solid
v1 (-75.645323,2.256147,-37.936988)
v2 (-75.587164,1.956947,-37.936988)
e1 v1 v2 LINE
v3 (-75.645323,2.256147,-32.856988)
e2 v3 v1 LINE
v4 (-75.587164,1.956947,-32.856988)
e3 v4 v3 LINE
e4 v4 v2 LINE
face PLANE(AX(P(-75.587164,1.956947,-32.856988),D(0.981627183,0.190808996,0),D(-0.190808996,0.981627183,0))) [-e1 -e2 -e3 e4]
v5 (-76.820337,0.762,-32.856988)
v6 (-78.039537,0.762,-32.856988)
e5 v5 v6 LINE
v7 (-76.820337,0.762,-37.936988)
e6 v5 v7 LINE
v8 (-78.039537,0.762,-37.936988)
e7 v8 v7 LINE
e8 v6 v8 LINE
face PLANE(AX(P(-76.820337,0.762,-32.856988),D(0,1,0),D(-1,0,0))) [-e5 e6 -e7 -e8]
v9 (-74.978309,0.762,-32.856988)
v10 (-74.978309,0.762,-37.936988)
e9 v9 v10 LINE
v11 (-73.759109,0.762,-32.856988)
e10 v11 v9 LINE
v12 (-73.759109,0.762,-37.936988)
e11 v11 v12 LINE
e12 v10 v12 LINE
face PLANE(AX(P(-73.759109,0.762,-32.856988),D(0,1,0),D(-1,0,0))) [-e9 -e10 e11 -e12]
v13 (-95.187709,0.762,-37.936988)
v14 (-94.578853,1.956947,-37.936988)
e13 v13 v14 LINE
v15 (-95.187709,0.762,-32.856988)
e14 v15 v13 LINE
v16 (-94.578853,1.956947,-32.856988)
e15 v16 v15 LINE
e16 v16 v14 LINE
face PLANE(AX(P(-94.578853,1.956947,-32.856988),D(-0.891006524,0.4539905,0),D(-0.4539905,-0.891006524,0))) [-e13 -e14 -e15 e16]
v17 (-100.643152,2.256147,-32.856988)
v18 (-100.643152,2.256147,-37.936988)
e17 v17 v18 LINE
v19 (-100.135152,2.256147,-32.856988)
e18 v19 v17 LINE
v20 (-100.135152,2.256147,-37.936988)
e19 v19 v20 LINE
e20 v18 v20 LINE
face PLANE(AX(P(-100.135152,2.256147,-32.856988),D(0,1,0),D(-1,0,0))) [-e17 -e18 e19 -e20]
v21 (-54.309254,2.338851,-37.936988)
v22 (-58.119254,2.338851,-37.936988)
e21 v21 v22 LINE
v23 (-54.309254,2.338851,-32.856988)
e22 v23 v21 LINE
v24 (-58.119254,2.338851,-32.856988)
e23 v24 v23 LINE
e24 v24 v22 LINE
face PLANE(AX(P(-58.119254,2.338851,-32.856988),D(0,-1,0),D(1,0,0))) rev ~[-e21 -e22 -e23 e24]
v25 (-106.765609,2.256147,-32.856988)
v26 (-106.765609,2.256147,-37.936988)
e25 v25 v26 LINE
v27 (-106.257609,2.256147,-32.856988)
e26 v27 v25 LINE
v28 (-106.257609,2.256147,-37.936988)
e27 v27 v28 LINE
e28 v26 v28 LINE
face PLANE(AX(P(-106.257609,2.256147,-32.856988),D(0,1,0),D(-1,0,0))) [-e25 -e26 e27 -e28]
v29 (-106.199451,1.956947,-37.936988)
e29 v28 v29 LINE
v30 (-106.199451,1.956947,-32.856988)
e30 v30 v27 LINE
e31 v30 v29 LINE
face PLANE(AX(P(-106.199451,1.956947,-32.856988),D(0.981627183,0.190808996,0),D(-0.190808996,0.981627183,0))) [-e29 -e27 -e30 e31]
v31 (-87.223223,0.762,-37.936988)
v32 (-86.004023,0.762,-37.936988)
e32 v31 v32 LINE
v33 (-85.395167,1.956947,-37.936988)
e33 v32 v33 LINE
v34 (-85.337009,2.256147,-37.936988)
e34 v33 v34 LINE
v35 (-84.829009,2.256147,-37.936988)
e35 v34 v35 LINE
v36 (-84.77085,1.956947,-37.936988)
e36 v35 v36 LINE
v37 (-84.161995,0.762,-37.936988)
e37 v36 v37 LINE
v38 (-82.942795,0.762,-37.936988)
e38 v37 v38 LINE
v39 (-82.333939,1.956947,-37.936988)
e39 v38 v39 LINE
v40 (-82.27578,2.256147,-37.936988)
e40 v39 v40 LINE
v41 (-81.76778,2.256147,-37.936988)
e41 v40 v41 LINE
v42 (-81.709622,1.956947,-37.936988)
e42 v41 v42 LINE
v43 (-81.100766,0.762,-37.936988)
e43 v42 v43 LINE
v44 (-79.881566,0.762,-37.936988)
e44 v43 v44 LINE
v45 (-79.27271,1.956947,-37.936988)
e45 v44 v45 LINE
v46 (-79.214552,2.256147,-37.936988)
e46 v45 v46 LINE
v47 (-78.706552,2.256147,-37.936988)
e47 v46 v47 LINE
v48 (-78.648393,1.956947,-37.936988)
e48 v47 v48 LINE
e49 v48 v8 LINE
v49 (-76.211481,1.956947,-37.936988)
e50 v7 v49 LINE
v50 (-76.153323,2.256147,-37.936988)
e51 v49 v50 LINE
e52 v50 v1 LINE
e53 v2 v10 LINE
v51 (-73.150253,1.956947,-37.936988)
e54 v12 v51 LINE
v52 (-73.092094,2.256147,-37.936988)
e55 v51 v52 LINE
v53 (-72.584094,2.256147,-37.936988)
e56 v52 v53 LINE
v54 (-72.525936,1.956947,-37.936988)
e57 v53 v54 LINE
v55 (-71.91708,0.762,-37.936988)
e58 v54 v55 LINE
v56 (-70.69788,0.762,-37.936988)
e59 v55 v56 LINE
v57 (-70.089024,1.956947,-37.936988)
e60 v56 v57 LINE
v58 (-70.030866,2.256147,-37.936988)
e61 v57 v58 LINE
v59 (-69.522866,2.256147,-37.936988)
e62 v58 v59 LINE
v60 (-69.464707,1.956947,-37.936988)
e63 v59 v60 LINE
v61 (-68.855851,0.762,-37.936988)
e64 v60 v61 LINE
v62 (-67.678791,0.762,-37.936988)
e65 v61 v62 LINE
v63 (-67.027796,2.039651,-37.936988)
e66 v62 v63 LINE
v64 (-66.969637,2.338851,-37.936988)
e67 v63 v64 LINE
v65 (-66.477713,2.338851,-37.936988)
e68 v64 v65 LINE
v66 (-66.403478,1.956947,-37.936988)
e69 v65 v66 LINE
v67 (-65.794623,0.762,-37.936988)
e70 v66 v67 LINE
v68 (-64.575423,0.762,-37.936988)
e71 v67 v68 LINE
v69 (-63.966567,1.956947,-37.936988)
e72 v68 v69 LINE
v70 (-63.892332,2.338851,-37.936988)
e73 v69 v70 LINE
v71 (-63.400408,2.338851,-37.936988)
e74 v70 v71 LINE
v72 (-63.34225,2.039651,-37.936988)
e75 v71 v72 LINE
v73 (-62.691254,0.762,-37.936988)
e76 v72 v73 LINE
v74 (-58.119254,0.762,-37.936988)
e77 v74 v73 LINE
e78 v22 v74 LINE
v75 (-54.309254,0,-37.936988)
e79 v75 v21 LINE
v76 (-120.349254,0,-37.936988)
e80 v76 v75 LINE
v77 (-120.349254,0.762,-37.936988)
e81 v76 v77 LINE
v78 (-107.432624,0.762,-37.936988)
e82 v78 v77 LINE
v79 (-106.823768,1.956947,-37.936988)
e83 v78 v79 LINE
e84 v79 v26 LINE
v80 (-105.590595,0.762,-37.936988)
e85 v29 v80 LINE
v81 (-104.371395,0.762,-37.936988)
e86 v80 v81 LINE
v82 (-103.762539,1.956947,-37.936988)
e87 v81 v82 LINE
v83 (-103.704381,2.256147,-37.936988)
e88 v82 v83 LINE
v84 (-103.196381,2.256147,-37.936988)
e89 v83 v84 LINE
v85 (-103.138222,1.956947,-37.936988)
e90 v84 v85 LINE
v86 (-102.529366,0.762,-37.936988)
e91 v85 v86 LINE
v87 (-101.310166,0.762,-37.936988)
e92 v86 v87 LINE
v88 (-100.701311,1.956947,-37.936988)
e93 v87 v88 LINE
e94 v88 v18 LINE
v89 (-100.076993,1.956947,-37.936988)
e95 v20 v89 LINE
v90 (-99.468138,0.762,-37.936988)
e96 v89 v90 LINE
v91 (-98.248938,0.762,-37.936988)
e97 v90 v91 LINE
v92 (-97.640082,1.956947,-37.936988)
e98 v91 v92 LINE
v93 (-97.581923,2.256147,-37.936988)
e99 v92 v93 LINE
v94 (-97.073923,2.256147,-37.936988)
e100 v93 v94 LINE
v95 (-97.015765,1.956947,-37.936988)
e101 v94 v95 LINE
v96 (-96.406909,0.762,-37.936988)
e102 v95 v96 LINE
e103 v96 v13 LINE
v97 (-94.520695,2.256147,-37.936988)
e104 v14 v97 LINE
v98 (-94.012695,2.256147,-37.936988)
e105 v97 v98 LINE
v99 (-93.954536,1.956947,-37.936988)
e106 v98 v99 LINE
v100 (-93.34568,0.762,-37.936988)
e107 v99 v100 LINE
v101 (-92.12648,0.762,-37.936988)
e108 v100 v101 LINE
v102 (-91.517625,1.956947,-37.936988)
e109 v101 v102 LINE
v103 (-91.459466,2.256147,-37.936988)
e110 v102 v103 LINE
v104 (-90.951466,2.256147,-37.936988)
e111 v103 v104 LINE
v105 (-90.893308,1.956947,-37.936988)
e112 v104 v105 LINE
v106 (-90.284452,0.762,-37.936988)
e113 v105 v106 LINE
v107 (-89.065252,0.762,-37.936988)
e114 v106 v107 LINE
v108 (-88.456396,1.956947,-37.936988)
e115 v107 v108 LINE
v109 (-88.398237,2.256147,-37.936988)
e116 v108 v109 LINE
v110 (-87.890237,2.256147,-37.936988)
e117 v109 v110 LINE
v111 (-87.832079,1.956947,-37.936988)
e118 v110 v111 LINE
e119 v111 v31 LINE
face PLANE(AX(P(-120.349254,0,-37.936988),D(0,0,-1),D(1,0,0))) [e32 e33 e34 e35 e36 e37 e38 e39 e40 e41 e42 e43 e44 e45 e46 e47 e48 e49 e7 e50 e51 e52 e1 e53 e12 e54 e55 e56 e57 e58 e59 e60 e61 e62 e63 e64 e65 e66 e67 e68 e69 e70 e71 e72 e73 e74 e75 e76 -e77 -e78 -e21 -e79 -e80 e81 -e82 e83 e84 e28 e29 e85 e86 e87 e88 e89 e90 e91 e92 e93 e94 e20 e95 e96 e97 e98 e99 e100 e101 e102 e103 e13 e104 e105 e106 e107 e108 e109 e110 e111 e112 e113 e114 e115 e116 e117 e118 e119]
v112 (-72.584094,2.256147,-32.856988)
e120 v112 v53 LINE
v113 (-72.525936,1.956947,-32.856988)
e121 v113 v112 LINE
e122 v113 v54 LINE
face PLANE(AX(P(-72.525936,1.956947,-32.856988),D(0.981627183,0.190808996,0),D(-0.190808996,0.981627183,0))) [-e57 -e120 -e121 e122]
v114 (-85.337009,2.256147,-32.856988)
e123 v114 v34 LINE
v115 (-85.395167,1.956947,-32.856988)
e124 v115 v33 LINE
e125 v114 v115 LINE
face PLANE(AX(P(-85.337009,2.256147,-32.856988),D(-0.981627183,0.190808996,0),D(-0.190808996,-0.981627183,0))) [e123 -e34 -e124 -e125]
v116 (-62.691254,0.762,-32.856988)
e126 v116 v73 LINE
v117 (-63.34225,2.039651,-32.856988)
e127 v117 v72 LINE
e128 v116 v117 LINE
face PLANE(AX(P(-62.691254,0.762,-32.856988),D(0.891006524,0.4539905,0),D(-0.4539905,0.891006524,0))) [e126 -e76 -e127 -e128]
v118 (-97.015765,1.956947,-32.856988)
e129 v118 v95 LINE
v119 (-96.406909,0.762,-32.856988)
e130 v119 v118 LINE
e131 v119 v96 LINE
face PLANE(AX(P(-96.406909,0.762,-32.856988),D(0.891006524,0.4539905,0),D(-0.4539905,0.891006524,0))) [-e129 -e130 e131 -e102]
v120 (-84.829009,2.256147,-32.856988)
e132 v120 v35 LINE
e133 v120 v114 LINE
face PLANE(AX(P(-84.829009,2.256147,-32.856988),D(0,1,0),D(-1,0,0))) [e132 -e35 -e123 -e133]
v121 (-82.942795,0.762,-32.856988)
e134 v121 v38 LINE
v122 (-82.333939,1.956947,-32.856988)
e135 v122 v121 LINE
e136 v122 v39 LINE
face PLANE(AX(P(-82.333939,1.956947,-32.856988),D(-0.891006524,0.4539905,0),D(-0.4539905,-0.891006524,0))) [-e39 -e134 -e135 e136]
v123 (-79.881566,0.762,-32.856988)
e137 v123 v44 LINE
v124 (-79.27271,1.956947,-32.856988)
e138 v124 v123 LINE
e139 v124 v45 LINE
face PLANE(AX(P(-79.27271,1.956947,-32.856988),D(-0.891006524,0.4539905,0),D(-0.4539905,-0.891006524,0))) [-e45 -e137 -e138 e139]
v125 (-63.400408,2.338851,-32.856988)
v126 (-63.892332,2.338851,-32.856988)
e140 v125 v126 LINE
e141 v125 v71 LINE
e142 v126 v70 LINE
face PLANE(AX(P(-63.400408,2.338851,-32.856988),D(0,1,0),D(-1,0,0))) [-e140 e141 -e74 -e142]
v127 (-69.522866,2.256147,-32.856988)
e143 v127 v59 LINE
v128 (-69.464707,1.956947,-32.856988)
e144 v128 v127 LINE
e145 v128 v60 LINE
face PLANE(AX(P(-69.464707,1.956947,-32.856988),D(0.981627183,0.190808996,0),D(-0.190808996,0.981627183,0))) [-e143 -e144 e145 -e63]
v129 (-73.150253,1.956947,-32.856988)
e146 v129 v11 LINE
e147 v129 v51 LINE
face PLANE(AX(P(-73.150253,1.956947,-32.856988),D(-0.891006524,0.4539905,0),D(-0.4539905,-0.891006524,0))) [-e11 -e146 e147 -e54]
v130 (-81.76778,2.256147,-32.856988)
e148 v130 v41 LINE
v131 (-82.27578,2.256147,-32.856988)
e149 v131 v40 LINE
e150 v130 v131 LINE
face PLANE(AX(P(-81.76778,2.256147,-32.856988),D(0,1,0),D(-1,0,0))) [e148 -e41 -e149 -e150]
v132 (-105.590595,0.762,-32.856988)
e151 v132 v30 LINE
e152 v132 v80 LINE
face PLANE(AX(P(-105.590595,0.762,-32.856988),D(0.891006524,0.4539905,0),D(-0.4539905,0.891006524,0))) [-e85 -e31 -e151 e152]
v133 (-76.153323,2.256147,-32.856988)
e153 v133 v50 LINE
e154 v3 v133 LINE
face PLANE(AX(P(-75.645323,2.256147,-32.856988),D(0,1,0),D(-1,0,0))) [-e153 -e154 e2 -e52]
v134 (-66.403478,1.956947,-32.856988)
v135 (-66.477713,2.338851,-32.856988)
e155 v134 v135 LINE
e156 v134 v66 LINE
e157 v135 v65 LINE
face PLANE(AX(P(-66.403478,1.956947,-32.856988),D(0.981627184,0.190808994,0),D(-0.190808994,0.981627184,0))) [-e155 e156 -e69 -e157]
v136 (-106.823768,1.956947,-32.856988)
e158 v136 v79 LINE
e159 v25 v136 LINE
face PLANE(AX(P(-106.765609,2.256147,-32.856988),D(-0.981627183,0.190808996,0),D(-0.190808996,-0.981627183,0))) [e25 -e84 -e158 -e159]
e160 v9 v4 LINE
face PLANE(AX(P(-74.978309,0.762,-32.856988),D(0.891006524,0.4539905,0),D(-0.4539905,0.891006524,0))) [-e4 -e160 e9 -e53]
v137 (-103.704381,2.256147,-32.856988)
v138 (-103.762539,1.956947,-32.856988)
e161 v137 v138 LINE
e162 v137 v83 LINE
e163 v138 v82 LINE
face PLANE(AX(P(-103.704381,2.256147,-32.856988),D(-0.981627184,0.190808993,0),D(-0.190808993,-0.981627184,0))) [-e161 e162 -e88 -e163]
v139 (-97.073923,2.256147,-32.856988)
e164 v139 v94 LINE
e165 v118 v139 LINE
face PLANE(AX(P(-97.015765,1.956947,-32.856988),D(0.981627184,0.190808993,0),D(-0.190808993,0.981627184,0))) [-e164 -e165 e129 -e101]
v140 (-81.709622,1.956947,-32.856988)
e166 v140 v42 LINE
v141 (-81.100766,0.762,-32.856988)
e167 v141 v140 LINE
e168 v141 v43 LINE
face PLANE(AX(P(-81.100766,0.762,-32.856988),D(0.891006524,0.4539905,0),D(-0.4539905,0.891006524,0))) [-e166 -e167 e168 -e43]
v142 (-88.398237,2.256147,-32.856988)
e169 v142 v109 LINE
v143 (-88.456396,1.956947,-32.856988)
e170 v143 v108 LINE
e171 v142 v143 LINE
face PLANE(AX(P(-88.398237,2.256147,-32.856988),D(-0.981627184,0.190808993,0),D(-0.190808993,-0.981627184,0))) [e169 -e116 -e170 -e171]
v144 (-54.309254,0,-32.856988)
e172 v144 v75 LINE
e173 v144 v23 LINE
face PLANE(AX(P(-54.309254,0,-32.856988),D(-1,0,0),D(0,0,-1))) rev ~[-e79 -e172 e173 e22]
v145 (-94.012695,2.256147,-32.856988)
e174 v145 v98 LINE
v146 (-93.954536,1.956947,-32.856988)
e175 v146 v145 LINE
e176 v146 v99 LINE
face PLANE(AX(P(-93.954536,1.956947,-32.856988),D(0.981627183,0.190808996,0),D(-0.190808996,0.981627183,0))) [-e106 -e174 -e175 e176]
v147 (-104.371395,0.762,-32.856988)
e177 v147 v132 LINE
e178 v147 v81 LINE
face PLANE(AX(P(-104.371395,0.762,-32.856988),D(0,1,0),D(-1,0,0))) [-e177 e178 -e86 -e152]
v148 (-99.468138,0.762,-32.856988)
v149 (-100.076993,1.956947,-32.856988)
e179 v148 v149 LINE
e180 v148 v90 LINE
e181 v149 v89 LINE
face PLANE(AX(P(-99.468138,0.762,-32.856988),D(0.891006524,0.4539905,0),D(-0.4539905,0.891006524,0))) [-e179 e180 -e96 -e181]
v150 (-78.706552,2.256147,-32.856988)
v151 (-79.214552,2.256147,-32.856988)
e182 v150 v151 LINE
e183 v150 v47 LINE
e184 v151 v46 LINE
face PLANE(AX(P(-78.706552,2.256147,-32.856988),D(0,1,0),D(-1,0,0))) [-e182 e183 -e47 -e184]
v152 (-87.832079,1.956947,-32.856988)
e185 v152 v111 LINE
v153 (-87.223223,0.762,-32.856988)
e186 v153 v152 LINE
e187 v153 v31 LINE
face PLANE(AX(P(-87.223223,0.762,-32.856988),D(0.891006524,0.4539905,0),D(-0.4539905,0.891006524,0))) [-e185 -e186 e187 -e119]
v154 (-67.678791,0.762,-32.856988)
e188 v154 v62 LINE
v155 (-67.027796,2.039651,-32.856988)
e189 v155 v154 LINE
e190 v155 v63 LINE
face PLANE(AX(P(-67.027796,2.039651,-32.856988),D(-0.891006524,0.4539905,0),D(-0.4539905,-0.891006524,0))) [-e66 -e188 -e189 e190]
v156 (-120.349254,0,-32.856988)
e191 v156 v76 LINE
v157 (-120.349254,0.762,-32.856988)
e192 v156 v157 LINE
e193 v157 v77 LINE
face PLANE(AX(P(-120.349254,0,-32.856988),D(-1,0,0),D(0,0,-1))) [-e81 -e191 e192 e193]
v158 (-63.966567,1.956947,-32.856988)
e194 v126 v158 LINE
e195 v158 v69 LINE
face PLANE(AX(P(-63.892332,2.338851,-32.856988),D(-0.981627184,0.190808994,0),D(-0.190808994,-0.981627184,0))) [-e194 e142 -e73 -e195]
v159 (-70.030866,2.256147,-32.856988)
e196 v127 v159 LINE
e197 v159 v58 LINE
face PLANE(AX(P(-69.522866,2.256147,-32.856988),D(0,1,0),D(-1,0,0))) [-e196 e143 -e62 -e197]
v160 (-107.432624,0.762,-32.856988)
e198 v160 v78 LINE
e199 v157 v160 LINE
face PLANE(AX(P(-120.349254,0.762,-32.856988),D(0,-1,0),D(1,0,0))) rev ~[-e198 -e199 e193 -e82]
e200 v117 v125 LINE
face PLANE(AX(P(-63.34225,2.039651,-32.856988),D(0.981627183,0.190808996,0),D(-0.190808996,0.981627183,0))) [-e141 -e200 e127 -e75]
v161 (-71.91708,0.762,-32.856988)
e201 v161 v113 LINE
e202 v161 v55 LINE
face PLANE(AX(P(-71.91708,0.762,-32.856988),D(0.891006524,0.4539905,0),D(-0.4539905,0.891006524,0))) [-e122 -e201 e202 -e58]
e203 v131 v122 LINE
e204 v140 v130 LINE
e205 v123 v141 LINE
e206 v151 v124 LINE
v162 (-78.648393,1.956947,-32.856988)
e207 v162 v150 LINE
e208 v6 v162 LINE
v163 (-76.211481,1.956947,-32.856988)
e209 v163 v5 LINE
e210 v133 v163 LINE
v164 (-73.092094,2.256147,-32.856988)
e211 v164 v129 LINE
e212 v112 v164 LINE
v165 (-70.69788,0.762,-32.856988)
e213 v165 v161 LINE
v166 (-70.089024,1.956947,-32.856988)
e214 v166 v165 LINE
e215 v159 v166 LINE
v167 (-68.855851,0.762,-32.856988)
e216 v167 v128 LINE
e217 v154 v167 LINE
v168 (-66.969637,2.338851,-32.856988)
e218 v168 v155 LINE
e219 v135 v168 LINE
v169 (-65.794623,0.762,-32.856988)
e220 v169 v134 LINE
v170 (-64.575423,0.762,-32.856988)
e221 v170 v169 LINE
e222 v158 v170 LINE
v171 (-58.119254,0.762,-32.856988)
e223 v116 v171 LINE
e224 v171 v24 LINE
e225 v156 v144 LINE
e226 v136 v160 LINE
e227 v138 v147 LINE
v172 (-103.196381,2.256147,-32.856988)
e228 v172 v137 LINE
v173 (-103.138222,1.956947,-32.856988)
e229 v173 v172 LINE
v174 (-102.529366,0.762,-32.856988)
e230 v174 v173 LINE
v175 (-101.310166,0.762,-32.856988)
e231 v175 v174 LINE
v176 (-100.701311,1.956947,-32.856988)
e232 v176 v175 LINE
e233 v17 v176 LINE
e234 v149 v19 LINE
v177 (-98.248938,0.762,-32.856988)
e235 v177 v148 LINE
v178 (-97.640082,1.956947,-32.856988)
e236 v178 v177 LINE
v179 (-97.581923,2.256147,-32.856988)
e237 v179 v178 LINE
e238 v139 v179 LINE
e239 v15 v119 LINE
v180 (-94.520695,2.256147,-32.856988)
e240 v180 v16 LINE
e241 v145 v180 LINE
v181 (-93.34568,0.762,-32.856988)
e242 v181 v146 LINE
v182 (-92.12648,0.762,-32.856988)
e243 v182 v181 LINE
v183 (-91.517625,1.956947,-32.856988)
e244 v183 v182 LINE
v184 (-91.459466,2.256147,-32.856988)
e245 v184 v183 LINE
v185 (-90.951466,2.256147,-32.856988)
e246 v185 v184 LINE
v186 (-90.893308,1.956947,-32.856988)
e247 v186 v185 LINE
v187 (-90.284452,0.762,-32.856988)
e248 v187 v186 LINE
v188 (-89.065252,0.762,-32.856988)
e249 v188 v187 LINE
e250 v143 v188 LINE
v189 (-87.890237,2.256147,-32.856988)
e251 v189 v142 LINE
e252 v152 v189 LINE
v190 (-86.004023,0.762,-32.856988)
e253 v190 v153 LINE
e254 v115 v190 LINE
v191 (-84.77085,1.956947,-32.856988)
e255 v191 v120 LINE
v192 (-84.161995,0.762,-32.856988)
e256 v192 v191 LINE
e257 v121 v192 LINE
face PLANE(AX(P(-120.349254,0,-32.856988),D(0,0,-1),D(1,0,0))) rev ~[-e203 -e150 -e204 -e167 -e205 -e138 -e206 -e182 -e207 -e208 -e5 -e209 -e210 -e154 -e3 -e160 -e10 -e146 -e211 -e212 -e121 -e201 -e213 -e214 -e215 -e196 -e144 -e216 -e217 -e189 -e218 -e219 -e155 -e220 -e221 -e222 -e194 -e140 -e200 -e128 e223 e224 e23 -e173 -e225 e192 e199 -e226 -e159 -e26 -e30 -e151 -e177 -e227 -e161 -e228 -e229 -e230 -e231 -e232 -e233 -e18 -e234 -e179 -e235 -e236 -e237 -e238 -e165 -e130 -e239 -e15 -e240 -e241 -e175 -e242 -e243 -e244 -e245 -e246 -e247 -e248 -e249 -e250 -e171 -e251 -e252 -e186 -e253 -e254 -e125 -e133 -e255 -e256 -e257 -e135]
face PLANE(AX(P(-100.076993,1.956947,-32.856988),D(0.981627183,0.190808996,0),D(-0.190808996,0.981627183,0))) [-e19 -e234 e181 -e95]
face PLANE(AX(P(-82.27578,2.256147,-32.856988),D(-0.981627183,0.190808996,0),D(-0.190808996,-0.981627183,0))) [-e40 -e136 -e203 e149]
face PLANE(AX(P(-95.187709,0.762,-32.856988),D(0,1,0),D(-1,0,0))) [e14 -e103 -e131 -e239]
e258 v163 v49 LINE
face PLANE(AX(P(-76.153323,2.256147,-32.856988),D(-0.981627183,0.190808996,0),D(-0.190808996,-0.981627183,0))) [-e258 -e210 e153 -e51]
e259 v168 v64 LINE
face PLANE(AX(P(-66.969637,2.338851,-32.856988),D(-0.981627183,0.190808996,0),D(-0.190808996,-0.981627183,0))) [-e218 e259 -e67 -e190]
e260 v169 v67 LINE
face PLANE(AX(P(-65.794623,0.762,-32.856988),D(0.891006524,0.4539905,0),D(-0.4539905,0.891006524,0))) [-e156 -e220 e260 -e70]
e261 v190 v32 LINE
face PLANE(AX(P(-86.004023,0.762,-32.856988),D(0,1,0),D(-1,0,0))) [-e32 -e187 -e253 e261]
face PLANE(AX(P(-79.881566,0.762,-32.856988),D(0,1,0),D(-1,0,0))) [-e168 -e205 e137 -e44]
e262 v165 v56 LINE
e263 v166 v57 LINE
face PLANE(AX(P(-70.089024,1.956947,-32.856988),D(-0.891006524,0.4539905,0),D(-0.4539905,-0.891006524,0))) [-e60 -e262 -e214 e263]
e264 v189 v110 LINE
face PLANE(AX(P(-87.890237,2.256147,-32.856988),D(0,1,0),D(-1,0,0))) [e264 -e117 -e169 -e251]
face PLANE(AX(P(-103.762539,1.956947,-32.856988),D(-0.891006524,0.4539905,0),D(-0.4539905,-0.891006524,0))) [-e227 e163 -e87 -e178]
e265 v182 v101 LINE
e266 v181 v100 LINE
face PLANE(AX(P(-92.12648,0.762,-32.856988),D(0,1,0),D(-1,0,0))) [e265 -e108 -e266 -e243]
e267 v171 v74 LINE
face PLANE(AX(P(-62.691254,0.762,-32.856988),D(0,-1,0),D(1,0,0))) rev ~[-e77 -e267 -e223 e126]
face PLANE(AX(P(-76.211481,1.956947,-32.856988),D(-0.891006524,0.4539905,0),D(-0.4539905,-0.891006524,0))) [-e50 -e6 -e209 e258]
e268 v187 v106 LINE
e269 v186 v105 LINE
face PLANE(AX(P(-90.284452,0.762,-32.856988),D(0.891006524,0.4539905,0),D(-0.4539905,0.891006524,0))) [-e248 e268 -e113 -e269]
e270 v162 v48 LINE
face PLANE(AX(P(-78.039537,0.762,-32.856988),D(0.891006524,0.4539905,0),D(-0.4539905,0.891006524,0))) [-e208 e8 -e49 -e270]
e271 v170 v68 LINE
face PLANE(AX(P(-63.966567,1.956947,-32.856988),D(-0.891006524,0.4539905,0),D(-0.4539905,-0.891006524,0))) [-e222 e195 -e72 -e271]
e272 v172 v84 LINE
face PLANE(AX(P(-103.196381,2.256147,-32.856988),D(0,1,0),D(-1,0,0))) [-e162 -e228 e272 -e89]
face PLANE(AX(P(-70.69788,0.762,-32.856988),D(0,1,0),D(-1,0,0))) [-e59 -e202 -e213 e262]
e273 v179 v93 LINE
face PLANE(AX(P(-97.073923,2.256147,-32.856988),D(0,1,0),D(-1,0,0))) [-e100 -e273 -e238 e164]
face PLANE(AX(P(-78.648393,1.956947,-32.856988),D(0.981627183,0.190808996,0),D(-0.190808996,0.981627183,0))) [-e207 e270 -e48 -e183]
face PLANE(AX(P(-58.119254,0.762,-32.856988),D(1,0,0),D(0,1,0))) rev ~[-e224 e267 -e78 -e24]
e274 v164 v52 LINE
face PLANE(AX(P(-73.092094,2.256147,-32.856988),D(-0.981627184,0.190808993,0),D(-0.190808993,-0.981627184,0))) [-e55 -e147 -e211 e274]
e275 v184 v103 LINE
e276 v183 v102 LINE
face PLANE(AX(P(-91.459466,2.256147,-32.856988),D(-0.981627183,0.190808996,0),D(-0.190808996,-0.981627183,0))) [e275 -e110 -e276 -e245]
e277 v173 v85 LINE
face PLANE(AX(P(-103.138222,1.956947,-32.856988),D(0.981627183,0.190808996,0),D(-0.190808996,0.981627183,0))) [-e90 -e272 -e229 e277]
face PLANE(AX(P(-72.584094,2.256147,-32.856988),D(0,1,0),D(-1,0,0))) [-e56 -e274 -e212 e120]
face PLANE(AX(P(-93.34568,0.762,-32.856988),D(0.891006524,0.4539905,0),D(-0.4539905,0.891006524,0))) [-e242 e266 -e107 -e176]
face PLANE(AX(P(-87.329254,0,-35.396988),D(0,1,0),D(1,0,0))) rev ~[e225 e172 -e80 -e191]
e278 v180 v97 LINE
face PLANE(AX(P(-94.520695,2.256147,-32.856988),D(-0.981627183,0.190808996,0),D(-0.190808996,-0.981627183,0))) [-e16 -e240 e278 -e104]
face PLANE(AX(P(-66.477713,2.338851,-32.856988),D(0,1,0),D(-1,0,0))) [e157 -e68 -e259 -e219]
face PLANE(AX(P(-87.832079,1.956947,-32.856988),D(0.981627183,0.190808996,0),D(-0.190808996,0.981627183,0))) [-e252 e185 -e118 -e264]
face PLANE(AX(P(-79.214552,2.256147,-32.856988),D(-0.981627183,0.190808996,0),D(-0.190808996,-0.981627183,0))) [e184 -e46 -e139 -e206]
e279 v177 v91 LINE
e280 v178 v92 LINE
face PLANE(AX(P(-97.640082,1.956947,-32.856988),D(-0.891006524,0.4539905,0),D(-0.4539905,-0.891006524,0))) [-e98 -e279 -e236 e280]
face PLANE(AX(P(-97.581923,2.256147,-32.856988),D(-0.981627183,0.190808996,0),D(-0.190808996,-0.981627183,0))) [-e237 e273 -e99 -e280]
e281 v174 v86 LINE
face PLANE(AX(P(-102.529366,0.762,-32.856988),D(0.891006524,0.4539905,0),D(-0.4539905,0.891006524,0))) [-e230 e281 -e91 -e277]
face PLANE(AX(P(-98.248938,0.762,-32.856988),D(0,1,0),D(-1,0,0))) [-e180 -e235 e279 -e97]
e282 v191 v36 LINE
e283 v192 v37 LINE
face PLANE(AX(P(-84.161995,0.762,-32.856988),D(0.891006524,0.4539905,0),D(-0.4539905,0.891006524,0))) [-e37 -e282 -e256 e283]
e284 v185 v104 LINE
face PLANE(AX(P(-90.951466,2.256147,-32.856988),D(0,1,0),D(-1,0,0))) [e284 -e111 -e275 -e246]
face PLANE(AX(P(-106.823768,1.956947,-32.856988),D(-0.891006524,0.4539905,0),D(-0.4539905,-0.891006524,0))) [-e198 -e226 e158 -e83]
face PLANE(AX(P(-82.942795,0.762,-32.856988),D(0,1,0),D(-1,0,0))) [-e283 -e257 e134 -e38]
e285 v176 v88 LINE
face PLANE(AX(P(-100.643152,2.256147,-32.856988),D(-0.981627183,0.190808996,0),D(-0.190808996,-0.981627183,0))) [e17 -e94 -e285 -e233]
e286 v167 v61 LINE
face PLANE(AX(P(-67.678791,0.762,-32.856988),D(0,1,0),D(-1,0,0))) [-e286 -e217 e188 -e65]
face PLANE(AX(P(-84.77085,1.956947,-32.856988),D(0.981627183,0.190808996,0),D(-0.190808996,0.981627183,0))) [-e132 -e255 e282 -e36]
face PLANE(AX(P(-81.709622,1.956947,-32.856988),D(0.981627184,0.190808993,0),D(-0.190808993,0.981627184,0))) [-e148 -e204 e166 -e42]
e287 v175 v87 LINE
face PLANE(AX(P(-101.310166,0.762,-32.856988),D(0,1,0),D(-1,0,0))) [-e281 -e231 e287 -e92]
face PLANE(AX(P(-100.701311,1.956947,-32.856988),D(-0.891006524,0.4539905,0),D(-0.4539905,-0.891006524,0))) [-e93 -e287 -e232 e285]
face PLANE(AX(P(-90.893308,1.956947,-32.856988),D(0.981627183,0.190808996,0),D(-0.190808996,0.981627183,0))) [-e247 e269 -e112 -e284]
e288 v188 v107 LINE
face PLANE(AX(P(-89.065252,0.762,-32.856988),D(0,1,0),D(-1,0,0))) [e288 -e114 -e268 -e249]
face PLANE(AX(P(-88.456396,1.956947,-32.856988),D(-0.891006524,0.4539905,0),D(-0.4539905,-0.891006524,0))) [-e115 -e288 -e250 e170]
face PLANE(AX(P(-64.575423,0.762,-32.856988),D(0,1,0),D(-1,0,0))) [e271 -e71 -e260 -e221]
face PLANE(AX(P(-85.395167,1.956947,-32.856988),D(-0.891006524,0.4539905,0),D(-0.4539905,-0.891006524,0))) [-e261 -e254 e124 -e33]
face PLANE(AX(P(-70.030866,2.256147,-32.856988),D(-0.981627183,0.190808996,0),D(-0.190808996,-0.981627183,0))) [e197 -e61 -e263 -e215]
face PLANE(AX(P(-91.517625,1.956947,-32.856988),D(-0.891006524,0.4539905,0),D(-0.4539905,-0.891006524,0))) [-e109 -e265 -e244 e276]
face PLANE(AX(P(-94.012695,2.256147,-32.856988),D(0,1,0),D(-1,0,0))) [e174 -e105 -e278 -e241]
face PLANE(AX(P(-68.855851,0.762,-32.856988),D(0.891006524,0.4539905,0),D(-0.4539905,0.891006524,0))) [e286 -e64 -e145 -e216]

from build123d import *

# Parameters (mm, degrees)
SKETCH1_W           = 66.04
SKETCH1_H           = 5.08
BOSS_EXTRUDE1_DEPTH = 3.81
SKETCH2_W           = 4.572
SKETCH2_H           = 3.048
CUT_EXTRUDE1_DEPTH  = 6.08
CHAMFER1_SIZE       = 0.254
CUT_EXTRUDE2_DEPTH  = 6.08
SKETCH5_W           = 12.916630293
SKETCH5_H           = 3.048
CUT_EXTRUDE3_DEPTH  = 6.08
SKETCH6_W           = 3.81
SKETCH6_H           = 1.726747829
CUT_EXTRUDE4_DEPTH  = 6.08


with BuildPart() as part:
    # Sketch1 → Boss-Extrude1 (new body)
    with BuildSketch(Plane(origin=(0, 0, 0), x_dir=(1, 0, 0), z_dir=(0, 1, 0))):
        with Locations((-87.329253942, 35.396987703)):
            Rectangle(SKETCH1_W, SKETCH1_H)
    extrude(amount=BOSS_EXTRUDE1_DEPTH)

    # Sketch2 → Cut-Extrude1 (cut, through all)
    with BuildSketch(Plane.XY.offset(-32.856987703)):
        with Locations((-60.405253942, 2.286)):
            Rectangle(SKETCH2_W, SKETCH2_H)
    extrude(amount=-CUT_EXTRUDE1_DEPTH, mode=Mode.SUBTRACT)

    # Chamfer1
    chamfer1_edges = [part.edges().sort_by_distance(p)[0] for p in [
        (-54.309253942, 3.81, -35.396987703),
        (-58.119253942, 3.81, -35.396987703),
    ]]
    chamfer(chamfer1_edges, length=CHAMFER1_SIZE)

    # Sketch4 → Cut-Extrude2 (cut, through all)
    with BuildSketch(Plane.XY.offset(-32.856987703)):
        Polygon((-64.575422666, 0.762), (-65.794622666, 0.762), (-66.403478406, 1.95694667), (-66.477713127, 2.338851205), (-66.969636987, 2.338851205), (-67.027795569, 2.03965124), (-67.678791391, 0.762), (-68.855851308, 0.762), (-69.464707047, 1.95694667), (-69.522865629, 2.256146635), (-70.030865629, 2.256146635), (-70.089024211, 1.95694667), (-70.69787995, 0.762), (-71.91707995, 0.762), (-72.525935689, 1.95694667), (-72.584094271, 2.256146635), (-73.092094271, 2.256146635), (-73.150252852, 1.95694667), (-73.759108591, 0.762), (-74.978308591, 0.762), (-75.58716433, 1.95694667), (-75.645322912, 2.256146635), (-76.153322912, 2.256146635), (-76.211481494, 1.95694667), (-76.820337233, 0.762), (-78.039537233, 0.762), (-78.648392972, 1.95694667), (-78.706551554, 2.256146635), (-79.214551554, 2.256146635), (-79.272710136, 1.95694667), (-79.881565875, 0.762), (-81.100765875, 0.762), (-81.709621614, 1.95694667), (-81.767780195, 2.256146635), (-82.275780195, 2.256146635), (-82.333938777, 1.95694667), (-82.942794516, 0.762), (-84.161994516, 0.762), (-84.770850255, 1.95694667), (-84.829008837, 2.256146635), (-85.337008837, 2.256146635), (-85.395167419, 1.95694667), (-86.004023158, 0.762), (-87.223223158, 0.762), (-87.832078897, 1.95694667), (-87.890237479, 2.256146635), (-88.398237479, 2.256146635), (-88.45639606, 1.95694667), (-89.065251799, 0.762), (-90.284451799, 0.762), (-90.893307538, 1.95694667), (-90.95146612, 2.256146635), (-91.45946612, 2.256146635), (-91.517624702, 1.95694667), (-92.126480441, 0.762), (-93.345680441, 0.762), (-93.95453618, 1.95694667), (-94.012694762, 2.256146635), (-94.520694762, 2.256146635), (-94.578853344, 1.95694667), (-95.187709083, 0.762), (-96.406909083, 0.762), (-97.015764822, 1.95694667), (-97.073923403, 2.256146635), (-97.581923403, 2.256146635), (-97.640081985, 1.95694667), (-98.248937724, 0.762), (-99.468137724, 0.762), (-100.076993463, 1.95694667), (-100.135152045, 2.256146635), (-100.643152045, 2.256146635), (-100.701310627, 1.95694667), (-101.310166366, 0.762), (-102.529366366, 0.762), (-103.138222105, 1.95694667), (-103.196380687, 2.256146635), (-103.704380687, 2.256146635), (-103.762539268, 1.95694667), (-104.371395007, 0.762), (-105.590595007, 0.762), (-106.199450746, 1.95694667), (-106.257609328, 2.256146635), (-106.765609328, 2.256146635), (-106.82376791, 1.95694667), (-107.432623649, 0.762), (-107.432623649, 3.81), (-106.257609328, 3.81), (-62.691253942, 3.81), (-62.691253942, 0.762), (-63.342249764, 2.03965124), (-63.400408346, 2.338851205), (-63.892332206, 2.338851205), (-63.966566927, 1.95694667), align=None)
    extrude(amount=-CUT_EXTRUDE2_DEPTH, mode=Mode.SUBTRACT)

    # Sketch5 → Cut-Extrude3 (cut, through all)
    with BuildSketch(Plane.XY.offset(-32.856987703)):
        with Locations((-113.890938796, 2.286)):
            Rectangle(SKETCH5_W, SKETCH5_H)
    extrude(amount=-CUT_EXTRUDE3_DEPTH, mode=Mode.SUBTRACT)

    # Sketch6 → Cut-Extrude4 (cut, through all)
    with BuildSketch(Plane.XY.offset(-32.856987703)):
        with Locations((-56.214253942, 3.202225119)):
            Rectangle(SKETCH6_W, SKETCH6_H)
    extrude(amount=-CUT_EXTRUDE4_DEPTH, mode=Mode.SUBTRACT)


solid = part.part
